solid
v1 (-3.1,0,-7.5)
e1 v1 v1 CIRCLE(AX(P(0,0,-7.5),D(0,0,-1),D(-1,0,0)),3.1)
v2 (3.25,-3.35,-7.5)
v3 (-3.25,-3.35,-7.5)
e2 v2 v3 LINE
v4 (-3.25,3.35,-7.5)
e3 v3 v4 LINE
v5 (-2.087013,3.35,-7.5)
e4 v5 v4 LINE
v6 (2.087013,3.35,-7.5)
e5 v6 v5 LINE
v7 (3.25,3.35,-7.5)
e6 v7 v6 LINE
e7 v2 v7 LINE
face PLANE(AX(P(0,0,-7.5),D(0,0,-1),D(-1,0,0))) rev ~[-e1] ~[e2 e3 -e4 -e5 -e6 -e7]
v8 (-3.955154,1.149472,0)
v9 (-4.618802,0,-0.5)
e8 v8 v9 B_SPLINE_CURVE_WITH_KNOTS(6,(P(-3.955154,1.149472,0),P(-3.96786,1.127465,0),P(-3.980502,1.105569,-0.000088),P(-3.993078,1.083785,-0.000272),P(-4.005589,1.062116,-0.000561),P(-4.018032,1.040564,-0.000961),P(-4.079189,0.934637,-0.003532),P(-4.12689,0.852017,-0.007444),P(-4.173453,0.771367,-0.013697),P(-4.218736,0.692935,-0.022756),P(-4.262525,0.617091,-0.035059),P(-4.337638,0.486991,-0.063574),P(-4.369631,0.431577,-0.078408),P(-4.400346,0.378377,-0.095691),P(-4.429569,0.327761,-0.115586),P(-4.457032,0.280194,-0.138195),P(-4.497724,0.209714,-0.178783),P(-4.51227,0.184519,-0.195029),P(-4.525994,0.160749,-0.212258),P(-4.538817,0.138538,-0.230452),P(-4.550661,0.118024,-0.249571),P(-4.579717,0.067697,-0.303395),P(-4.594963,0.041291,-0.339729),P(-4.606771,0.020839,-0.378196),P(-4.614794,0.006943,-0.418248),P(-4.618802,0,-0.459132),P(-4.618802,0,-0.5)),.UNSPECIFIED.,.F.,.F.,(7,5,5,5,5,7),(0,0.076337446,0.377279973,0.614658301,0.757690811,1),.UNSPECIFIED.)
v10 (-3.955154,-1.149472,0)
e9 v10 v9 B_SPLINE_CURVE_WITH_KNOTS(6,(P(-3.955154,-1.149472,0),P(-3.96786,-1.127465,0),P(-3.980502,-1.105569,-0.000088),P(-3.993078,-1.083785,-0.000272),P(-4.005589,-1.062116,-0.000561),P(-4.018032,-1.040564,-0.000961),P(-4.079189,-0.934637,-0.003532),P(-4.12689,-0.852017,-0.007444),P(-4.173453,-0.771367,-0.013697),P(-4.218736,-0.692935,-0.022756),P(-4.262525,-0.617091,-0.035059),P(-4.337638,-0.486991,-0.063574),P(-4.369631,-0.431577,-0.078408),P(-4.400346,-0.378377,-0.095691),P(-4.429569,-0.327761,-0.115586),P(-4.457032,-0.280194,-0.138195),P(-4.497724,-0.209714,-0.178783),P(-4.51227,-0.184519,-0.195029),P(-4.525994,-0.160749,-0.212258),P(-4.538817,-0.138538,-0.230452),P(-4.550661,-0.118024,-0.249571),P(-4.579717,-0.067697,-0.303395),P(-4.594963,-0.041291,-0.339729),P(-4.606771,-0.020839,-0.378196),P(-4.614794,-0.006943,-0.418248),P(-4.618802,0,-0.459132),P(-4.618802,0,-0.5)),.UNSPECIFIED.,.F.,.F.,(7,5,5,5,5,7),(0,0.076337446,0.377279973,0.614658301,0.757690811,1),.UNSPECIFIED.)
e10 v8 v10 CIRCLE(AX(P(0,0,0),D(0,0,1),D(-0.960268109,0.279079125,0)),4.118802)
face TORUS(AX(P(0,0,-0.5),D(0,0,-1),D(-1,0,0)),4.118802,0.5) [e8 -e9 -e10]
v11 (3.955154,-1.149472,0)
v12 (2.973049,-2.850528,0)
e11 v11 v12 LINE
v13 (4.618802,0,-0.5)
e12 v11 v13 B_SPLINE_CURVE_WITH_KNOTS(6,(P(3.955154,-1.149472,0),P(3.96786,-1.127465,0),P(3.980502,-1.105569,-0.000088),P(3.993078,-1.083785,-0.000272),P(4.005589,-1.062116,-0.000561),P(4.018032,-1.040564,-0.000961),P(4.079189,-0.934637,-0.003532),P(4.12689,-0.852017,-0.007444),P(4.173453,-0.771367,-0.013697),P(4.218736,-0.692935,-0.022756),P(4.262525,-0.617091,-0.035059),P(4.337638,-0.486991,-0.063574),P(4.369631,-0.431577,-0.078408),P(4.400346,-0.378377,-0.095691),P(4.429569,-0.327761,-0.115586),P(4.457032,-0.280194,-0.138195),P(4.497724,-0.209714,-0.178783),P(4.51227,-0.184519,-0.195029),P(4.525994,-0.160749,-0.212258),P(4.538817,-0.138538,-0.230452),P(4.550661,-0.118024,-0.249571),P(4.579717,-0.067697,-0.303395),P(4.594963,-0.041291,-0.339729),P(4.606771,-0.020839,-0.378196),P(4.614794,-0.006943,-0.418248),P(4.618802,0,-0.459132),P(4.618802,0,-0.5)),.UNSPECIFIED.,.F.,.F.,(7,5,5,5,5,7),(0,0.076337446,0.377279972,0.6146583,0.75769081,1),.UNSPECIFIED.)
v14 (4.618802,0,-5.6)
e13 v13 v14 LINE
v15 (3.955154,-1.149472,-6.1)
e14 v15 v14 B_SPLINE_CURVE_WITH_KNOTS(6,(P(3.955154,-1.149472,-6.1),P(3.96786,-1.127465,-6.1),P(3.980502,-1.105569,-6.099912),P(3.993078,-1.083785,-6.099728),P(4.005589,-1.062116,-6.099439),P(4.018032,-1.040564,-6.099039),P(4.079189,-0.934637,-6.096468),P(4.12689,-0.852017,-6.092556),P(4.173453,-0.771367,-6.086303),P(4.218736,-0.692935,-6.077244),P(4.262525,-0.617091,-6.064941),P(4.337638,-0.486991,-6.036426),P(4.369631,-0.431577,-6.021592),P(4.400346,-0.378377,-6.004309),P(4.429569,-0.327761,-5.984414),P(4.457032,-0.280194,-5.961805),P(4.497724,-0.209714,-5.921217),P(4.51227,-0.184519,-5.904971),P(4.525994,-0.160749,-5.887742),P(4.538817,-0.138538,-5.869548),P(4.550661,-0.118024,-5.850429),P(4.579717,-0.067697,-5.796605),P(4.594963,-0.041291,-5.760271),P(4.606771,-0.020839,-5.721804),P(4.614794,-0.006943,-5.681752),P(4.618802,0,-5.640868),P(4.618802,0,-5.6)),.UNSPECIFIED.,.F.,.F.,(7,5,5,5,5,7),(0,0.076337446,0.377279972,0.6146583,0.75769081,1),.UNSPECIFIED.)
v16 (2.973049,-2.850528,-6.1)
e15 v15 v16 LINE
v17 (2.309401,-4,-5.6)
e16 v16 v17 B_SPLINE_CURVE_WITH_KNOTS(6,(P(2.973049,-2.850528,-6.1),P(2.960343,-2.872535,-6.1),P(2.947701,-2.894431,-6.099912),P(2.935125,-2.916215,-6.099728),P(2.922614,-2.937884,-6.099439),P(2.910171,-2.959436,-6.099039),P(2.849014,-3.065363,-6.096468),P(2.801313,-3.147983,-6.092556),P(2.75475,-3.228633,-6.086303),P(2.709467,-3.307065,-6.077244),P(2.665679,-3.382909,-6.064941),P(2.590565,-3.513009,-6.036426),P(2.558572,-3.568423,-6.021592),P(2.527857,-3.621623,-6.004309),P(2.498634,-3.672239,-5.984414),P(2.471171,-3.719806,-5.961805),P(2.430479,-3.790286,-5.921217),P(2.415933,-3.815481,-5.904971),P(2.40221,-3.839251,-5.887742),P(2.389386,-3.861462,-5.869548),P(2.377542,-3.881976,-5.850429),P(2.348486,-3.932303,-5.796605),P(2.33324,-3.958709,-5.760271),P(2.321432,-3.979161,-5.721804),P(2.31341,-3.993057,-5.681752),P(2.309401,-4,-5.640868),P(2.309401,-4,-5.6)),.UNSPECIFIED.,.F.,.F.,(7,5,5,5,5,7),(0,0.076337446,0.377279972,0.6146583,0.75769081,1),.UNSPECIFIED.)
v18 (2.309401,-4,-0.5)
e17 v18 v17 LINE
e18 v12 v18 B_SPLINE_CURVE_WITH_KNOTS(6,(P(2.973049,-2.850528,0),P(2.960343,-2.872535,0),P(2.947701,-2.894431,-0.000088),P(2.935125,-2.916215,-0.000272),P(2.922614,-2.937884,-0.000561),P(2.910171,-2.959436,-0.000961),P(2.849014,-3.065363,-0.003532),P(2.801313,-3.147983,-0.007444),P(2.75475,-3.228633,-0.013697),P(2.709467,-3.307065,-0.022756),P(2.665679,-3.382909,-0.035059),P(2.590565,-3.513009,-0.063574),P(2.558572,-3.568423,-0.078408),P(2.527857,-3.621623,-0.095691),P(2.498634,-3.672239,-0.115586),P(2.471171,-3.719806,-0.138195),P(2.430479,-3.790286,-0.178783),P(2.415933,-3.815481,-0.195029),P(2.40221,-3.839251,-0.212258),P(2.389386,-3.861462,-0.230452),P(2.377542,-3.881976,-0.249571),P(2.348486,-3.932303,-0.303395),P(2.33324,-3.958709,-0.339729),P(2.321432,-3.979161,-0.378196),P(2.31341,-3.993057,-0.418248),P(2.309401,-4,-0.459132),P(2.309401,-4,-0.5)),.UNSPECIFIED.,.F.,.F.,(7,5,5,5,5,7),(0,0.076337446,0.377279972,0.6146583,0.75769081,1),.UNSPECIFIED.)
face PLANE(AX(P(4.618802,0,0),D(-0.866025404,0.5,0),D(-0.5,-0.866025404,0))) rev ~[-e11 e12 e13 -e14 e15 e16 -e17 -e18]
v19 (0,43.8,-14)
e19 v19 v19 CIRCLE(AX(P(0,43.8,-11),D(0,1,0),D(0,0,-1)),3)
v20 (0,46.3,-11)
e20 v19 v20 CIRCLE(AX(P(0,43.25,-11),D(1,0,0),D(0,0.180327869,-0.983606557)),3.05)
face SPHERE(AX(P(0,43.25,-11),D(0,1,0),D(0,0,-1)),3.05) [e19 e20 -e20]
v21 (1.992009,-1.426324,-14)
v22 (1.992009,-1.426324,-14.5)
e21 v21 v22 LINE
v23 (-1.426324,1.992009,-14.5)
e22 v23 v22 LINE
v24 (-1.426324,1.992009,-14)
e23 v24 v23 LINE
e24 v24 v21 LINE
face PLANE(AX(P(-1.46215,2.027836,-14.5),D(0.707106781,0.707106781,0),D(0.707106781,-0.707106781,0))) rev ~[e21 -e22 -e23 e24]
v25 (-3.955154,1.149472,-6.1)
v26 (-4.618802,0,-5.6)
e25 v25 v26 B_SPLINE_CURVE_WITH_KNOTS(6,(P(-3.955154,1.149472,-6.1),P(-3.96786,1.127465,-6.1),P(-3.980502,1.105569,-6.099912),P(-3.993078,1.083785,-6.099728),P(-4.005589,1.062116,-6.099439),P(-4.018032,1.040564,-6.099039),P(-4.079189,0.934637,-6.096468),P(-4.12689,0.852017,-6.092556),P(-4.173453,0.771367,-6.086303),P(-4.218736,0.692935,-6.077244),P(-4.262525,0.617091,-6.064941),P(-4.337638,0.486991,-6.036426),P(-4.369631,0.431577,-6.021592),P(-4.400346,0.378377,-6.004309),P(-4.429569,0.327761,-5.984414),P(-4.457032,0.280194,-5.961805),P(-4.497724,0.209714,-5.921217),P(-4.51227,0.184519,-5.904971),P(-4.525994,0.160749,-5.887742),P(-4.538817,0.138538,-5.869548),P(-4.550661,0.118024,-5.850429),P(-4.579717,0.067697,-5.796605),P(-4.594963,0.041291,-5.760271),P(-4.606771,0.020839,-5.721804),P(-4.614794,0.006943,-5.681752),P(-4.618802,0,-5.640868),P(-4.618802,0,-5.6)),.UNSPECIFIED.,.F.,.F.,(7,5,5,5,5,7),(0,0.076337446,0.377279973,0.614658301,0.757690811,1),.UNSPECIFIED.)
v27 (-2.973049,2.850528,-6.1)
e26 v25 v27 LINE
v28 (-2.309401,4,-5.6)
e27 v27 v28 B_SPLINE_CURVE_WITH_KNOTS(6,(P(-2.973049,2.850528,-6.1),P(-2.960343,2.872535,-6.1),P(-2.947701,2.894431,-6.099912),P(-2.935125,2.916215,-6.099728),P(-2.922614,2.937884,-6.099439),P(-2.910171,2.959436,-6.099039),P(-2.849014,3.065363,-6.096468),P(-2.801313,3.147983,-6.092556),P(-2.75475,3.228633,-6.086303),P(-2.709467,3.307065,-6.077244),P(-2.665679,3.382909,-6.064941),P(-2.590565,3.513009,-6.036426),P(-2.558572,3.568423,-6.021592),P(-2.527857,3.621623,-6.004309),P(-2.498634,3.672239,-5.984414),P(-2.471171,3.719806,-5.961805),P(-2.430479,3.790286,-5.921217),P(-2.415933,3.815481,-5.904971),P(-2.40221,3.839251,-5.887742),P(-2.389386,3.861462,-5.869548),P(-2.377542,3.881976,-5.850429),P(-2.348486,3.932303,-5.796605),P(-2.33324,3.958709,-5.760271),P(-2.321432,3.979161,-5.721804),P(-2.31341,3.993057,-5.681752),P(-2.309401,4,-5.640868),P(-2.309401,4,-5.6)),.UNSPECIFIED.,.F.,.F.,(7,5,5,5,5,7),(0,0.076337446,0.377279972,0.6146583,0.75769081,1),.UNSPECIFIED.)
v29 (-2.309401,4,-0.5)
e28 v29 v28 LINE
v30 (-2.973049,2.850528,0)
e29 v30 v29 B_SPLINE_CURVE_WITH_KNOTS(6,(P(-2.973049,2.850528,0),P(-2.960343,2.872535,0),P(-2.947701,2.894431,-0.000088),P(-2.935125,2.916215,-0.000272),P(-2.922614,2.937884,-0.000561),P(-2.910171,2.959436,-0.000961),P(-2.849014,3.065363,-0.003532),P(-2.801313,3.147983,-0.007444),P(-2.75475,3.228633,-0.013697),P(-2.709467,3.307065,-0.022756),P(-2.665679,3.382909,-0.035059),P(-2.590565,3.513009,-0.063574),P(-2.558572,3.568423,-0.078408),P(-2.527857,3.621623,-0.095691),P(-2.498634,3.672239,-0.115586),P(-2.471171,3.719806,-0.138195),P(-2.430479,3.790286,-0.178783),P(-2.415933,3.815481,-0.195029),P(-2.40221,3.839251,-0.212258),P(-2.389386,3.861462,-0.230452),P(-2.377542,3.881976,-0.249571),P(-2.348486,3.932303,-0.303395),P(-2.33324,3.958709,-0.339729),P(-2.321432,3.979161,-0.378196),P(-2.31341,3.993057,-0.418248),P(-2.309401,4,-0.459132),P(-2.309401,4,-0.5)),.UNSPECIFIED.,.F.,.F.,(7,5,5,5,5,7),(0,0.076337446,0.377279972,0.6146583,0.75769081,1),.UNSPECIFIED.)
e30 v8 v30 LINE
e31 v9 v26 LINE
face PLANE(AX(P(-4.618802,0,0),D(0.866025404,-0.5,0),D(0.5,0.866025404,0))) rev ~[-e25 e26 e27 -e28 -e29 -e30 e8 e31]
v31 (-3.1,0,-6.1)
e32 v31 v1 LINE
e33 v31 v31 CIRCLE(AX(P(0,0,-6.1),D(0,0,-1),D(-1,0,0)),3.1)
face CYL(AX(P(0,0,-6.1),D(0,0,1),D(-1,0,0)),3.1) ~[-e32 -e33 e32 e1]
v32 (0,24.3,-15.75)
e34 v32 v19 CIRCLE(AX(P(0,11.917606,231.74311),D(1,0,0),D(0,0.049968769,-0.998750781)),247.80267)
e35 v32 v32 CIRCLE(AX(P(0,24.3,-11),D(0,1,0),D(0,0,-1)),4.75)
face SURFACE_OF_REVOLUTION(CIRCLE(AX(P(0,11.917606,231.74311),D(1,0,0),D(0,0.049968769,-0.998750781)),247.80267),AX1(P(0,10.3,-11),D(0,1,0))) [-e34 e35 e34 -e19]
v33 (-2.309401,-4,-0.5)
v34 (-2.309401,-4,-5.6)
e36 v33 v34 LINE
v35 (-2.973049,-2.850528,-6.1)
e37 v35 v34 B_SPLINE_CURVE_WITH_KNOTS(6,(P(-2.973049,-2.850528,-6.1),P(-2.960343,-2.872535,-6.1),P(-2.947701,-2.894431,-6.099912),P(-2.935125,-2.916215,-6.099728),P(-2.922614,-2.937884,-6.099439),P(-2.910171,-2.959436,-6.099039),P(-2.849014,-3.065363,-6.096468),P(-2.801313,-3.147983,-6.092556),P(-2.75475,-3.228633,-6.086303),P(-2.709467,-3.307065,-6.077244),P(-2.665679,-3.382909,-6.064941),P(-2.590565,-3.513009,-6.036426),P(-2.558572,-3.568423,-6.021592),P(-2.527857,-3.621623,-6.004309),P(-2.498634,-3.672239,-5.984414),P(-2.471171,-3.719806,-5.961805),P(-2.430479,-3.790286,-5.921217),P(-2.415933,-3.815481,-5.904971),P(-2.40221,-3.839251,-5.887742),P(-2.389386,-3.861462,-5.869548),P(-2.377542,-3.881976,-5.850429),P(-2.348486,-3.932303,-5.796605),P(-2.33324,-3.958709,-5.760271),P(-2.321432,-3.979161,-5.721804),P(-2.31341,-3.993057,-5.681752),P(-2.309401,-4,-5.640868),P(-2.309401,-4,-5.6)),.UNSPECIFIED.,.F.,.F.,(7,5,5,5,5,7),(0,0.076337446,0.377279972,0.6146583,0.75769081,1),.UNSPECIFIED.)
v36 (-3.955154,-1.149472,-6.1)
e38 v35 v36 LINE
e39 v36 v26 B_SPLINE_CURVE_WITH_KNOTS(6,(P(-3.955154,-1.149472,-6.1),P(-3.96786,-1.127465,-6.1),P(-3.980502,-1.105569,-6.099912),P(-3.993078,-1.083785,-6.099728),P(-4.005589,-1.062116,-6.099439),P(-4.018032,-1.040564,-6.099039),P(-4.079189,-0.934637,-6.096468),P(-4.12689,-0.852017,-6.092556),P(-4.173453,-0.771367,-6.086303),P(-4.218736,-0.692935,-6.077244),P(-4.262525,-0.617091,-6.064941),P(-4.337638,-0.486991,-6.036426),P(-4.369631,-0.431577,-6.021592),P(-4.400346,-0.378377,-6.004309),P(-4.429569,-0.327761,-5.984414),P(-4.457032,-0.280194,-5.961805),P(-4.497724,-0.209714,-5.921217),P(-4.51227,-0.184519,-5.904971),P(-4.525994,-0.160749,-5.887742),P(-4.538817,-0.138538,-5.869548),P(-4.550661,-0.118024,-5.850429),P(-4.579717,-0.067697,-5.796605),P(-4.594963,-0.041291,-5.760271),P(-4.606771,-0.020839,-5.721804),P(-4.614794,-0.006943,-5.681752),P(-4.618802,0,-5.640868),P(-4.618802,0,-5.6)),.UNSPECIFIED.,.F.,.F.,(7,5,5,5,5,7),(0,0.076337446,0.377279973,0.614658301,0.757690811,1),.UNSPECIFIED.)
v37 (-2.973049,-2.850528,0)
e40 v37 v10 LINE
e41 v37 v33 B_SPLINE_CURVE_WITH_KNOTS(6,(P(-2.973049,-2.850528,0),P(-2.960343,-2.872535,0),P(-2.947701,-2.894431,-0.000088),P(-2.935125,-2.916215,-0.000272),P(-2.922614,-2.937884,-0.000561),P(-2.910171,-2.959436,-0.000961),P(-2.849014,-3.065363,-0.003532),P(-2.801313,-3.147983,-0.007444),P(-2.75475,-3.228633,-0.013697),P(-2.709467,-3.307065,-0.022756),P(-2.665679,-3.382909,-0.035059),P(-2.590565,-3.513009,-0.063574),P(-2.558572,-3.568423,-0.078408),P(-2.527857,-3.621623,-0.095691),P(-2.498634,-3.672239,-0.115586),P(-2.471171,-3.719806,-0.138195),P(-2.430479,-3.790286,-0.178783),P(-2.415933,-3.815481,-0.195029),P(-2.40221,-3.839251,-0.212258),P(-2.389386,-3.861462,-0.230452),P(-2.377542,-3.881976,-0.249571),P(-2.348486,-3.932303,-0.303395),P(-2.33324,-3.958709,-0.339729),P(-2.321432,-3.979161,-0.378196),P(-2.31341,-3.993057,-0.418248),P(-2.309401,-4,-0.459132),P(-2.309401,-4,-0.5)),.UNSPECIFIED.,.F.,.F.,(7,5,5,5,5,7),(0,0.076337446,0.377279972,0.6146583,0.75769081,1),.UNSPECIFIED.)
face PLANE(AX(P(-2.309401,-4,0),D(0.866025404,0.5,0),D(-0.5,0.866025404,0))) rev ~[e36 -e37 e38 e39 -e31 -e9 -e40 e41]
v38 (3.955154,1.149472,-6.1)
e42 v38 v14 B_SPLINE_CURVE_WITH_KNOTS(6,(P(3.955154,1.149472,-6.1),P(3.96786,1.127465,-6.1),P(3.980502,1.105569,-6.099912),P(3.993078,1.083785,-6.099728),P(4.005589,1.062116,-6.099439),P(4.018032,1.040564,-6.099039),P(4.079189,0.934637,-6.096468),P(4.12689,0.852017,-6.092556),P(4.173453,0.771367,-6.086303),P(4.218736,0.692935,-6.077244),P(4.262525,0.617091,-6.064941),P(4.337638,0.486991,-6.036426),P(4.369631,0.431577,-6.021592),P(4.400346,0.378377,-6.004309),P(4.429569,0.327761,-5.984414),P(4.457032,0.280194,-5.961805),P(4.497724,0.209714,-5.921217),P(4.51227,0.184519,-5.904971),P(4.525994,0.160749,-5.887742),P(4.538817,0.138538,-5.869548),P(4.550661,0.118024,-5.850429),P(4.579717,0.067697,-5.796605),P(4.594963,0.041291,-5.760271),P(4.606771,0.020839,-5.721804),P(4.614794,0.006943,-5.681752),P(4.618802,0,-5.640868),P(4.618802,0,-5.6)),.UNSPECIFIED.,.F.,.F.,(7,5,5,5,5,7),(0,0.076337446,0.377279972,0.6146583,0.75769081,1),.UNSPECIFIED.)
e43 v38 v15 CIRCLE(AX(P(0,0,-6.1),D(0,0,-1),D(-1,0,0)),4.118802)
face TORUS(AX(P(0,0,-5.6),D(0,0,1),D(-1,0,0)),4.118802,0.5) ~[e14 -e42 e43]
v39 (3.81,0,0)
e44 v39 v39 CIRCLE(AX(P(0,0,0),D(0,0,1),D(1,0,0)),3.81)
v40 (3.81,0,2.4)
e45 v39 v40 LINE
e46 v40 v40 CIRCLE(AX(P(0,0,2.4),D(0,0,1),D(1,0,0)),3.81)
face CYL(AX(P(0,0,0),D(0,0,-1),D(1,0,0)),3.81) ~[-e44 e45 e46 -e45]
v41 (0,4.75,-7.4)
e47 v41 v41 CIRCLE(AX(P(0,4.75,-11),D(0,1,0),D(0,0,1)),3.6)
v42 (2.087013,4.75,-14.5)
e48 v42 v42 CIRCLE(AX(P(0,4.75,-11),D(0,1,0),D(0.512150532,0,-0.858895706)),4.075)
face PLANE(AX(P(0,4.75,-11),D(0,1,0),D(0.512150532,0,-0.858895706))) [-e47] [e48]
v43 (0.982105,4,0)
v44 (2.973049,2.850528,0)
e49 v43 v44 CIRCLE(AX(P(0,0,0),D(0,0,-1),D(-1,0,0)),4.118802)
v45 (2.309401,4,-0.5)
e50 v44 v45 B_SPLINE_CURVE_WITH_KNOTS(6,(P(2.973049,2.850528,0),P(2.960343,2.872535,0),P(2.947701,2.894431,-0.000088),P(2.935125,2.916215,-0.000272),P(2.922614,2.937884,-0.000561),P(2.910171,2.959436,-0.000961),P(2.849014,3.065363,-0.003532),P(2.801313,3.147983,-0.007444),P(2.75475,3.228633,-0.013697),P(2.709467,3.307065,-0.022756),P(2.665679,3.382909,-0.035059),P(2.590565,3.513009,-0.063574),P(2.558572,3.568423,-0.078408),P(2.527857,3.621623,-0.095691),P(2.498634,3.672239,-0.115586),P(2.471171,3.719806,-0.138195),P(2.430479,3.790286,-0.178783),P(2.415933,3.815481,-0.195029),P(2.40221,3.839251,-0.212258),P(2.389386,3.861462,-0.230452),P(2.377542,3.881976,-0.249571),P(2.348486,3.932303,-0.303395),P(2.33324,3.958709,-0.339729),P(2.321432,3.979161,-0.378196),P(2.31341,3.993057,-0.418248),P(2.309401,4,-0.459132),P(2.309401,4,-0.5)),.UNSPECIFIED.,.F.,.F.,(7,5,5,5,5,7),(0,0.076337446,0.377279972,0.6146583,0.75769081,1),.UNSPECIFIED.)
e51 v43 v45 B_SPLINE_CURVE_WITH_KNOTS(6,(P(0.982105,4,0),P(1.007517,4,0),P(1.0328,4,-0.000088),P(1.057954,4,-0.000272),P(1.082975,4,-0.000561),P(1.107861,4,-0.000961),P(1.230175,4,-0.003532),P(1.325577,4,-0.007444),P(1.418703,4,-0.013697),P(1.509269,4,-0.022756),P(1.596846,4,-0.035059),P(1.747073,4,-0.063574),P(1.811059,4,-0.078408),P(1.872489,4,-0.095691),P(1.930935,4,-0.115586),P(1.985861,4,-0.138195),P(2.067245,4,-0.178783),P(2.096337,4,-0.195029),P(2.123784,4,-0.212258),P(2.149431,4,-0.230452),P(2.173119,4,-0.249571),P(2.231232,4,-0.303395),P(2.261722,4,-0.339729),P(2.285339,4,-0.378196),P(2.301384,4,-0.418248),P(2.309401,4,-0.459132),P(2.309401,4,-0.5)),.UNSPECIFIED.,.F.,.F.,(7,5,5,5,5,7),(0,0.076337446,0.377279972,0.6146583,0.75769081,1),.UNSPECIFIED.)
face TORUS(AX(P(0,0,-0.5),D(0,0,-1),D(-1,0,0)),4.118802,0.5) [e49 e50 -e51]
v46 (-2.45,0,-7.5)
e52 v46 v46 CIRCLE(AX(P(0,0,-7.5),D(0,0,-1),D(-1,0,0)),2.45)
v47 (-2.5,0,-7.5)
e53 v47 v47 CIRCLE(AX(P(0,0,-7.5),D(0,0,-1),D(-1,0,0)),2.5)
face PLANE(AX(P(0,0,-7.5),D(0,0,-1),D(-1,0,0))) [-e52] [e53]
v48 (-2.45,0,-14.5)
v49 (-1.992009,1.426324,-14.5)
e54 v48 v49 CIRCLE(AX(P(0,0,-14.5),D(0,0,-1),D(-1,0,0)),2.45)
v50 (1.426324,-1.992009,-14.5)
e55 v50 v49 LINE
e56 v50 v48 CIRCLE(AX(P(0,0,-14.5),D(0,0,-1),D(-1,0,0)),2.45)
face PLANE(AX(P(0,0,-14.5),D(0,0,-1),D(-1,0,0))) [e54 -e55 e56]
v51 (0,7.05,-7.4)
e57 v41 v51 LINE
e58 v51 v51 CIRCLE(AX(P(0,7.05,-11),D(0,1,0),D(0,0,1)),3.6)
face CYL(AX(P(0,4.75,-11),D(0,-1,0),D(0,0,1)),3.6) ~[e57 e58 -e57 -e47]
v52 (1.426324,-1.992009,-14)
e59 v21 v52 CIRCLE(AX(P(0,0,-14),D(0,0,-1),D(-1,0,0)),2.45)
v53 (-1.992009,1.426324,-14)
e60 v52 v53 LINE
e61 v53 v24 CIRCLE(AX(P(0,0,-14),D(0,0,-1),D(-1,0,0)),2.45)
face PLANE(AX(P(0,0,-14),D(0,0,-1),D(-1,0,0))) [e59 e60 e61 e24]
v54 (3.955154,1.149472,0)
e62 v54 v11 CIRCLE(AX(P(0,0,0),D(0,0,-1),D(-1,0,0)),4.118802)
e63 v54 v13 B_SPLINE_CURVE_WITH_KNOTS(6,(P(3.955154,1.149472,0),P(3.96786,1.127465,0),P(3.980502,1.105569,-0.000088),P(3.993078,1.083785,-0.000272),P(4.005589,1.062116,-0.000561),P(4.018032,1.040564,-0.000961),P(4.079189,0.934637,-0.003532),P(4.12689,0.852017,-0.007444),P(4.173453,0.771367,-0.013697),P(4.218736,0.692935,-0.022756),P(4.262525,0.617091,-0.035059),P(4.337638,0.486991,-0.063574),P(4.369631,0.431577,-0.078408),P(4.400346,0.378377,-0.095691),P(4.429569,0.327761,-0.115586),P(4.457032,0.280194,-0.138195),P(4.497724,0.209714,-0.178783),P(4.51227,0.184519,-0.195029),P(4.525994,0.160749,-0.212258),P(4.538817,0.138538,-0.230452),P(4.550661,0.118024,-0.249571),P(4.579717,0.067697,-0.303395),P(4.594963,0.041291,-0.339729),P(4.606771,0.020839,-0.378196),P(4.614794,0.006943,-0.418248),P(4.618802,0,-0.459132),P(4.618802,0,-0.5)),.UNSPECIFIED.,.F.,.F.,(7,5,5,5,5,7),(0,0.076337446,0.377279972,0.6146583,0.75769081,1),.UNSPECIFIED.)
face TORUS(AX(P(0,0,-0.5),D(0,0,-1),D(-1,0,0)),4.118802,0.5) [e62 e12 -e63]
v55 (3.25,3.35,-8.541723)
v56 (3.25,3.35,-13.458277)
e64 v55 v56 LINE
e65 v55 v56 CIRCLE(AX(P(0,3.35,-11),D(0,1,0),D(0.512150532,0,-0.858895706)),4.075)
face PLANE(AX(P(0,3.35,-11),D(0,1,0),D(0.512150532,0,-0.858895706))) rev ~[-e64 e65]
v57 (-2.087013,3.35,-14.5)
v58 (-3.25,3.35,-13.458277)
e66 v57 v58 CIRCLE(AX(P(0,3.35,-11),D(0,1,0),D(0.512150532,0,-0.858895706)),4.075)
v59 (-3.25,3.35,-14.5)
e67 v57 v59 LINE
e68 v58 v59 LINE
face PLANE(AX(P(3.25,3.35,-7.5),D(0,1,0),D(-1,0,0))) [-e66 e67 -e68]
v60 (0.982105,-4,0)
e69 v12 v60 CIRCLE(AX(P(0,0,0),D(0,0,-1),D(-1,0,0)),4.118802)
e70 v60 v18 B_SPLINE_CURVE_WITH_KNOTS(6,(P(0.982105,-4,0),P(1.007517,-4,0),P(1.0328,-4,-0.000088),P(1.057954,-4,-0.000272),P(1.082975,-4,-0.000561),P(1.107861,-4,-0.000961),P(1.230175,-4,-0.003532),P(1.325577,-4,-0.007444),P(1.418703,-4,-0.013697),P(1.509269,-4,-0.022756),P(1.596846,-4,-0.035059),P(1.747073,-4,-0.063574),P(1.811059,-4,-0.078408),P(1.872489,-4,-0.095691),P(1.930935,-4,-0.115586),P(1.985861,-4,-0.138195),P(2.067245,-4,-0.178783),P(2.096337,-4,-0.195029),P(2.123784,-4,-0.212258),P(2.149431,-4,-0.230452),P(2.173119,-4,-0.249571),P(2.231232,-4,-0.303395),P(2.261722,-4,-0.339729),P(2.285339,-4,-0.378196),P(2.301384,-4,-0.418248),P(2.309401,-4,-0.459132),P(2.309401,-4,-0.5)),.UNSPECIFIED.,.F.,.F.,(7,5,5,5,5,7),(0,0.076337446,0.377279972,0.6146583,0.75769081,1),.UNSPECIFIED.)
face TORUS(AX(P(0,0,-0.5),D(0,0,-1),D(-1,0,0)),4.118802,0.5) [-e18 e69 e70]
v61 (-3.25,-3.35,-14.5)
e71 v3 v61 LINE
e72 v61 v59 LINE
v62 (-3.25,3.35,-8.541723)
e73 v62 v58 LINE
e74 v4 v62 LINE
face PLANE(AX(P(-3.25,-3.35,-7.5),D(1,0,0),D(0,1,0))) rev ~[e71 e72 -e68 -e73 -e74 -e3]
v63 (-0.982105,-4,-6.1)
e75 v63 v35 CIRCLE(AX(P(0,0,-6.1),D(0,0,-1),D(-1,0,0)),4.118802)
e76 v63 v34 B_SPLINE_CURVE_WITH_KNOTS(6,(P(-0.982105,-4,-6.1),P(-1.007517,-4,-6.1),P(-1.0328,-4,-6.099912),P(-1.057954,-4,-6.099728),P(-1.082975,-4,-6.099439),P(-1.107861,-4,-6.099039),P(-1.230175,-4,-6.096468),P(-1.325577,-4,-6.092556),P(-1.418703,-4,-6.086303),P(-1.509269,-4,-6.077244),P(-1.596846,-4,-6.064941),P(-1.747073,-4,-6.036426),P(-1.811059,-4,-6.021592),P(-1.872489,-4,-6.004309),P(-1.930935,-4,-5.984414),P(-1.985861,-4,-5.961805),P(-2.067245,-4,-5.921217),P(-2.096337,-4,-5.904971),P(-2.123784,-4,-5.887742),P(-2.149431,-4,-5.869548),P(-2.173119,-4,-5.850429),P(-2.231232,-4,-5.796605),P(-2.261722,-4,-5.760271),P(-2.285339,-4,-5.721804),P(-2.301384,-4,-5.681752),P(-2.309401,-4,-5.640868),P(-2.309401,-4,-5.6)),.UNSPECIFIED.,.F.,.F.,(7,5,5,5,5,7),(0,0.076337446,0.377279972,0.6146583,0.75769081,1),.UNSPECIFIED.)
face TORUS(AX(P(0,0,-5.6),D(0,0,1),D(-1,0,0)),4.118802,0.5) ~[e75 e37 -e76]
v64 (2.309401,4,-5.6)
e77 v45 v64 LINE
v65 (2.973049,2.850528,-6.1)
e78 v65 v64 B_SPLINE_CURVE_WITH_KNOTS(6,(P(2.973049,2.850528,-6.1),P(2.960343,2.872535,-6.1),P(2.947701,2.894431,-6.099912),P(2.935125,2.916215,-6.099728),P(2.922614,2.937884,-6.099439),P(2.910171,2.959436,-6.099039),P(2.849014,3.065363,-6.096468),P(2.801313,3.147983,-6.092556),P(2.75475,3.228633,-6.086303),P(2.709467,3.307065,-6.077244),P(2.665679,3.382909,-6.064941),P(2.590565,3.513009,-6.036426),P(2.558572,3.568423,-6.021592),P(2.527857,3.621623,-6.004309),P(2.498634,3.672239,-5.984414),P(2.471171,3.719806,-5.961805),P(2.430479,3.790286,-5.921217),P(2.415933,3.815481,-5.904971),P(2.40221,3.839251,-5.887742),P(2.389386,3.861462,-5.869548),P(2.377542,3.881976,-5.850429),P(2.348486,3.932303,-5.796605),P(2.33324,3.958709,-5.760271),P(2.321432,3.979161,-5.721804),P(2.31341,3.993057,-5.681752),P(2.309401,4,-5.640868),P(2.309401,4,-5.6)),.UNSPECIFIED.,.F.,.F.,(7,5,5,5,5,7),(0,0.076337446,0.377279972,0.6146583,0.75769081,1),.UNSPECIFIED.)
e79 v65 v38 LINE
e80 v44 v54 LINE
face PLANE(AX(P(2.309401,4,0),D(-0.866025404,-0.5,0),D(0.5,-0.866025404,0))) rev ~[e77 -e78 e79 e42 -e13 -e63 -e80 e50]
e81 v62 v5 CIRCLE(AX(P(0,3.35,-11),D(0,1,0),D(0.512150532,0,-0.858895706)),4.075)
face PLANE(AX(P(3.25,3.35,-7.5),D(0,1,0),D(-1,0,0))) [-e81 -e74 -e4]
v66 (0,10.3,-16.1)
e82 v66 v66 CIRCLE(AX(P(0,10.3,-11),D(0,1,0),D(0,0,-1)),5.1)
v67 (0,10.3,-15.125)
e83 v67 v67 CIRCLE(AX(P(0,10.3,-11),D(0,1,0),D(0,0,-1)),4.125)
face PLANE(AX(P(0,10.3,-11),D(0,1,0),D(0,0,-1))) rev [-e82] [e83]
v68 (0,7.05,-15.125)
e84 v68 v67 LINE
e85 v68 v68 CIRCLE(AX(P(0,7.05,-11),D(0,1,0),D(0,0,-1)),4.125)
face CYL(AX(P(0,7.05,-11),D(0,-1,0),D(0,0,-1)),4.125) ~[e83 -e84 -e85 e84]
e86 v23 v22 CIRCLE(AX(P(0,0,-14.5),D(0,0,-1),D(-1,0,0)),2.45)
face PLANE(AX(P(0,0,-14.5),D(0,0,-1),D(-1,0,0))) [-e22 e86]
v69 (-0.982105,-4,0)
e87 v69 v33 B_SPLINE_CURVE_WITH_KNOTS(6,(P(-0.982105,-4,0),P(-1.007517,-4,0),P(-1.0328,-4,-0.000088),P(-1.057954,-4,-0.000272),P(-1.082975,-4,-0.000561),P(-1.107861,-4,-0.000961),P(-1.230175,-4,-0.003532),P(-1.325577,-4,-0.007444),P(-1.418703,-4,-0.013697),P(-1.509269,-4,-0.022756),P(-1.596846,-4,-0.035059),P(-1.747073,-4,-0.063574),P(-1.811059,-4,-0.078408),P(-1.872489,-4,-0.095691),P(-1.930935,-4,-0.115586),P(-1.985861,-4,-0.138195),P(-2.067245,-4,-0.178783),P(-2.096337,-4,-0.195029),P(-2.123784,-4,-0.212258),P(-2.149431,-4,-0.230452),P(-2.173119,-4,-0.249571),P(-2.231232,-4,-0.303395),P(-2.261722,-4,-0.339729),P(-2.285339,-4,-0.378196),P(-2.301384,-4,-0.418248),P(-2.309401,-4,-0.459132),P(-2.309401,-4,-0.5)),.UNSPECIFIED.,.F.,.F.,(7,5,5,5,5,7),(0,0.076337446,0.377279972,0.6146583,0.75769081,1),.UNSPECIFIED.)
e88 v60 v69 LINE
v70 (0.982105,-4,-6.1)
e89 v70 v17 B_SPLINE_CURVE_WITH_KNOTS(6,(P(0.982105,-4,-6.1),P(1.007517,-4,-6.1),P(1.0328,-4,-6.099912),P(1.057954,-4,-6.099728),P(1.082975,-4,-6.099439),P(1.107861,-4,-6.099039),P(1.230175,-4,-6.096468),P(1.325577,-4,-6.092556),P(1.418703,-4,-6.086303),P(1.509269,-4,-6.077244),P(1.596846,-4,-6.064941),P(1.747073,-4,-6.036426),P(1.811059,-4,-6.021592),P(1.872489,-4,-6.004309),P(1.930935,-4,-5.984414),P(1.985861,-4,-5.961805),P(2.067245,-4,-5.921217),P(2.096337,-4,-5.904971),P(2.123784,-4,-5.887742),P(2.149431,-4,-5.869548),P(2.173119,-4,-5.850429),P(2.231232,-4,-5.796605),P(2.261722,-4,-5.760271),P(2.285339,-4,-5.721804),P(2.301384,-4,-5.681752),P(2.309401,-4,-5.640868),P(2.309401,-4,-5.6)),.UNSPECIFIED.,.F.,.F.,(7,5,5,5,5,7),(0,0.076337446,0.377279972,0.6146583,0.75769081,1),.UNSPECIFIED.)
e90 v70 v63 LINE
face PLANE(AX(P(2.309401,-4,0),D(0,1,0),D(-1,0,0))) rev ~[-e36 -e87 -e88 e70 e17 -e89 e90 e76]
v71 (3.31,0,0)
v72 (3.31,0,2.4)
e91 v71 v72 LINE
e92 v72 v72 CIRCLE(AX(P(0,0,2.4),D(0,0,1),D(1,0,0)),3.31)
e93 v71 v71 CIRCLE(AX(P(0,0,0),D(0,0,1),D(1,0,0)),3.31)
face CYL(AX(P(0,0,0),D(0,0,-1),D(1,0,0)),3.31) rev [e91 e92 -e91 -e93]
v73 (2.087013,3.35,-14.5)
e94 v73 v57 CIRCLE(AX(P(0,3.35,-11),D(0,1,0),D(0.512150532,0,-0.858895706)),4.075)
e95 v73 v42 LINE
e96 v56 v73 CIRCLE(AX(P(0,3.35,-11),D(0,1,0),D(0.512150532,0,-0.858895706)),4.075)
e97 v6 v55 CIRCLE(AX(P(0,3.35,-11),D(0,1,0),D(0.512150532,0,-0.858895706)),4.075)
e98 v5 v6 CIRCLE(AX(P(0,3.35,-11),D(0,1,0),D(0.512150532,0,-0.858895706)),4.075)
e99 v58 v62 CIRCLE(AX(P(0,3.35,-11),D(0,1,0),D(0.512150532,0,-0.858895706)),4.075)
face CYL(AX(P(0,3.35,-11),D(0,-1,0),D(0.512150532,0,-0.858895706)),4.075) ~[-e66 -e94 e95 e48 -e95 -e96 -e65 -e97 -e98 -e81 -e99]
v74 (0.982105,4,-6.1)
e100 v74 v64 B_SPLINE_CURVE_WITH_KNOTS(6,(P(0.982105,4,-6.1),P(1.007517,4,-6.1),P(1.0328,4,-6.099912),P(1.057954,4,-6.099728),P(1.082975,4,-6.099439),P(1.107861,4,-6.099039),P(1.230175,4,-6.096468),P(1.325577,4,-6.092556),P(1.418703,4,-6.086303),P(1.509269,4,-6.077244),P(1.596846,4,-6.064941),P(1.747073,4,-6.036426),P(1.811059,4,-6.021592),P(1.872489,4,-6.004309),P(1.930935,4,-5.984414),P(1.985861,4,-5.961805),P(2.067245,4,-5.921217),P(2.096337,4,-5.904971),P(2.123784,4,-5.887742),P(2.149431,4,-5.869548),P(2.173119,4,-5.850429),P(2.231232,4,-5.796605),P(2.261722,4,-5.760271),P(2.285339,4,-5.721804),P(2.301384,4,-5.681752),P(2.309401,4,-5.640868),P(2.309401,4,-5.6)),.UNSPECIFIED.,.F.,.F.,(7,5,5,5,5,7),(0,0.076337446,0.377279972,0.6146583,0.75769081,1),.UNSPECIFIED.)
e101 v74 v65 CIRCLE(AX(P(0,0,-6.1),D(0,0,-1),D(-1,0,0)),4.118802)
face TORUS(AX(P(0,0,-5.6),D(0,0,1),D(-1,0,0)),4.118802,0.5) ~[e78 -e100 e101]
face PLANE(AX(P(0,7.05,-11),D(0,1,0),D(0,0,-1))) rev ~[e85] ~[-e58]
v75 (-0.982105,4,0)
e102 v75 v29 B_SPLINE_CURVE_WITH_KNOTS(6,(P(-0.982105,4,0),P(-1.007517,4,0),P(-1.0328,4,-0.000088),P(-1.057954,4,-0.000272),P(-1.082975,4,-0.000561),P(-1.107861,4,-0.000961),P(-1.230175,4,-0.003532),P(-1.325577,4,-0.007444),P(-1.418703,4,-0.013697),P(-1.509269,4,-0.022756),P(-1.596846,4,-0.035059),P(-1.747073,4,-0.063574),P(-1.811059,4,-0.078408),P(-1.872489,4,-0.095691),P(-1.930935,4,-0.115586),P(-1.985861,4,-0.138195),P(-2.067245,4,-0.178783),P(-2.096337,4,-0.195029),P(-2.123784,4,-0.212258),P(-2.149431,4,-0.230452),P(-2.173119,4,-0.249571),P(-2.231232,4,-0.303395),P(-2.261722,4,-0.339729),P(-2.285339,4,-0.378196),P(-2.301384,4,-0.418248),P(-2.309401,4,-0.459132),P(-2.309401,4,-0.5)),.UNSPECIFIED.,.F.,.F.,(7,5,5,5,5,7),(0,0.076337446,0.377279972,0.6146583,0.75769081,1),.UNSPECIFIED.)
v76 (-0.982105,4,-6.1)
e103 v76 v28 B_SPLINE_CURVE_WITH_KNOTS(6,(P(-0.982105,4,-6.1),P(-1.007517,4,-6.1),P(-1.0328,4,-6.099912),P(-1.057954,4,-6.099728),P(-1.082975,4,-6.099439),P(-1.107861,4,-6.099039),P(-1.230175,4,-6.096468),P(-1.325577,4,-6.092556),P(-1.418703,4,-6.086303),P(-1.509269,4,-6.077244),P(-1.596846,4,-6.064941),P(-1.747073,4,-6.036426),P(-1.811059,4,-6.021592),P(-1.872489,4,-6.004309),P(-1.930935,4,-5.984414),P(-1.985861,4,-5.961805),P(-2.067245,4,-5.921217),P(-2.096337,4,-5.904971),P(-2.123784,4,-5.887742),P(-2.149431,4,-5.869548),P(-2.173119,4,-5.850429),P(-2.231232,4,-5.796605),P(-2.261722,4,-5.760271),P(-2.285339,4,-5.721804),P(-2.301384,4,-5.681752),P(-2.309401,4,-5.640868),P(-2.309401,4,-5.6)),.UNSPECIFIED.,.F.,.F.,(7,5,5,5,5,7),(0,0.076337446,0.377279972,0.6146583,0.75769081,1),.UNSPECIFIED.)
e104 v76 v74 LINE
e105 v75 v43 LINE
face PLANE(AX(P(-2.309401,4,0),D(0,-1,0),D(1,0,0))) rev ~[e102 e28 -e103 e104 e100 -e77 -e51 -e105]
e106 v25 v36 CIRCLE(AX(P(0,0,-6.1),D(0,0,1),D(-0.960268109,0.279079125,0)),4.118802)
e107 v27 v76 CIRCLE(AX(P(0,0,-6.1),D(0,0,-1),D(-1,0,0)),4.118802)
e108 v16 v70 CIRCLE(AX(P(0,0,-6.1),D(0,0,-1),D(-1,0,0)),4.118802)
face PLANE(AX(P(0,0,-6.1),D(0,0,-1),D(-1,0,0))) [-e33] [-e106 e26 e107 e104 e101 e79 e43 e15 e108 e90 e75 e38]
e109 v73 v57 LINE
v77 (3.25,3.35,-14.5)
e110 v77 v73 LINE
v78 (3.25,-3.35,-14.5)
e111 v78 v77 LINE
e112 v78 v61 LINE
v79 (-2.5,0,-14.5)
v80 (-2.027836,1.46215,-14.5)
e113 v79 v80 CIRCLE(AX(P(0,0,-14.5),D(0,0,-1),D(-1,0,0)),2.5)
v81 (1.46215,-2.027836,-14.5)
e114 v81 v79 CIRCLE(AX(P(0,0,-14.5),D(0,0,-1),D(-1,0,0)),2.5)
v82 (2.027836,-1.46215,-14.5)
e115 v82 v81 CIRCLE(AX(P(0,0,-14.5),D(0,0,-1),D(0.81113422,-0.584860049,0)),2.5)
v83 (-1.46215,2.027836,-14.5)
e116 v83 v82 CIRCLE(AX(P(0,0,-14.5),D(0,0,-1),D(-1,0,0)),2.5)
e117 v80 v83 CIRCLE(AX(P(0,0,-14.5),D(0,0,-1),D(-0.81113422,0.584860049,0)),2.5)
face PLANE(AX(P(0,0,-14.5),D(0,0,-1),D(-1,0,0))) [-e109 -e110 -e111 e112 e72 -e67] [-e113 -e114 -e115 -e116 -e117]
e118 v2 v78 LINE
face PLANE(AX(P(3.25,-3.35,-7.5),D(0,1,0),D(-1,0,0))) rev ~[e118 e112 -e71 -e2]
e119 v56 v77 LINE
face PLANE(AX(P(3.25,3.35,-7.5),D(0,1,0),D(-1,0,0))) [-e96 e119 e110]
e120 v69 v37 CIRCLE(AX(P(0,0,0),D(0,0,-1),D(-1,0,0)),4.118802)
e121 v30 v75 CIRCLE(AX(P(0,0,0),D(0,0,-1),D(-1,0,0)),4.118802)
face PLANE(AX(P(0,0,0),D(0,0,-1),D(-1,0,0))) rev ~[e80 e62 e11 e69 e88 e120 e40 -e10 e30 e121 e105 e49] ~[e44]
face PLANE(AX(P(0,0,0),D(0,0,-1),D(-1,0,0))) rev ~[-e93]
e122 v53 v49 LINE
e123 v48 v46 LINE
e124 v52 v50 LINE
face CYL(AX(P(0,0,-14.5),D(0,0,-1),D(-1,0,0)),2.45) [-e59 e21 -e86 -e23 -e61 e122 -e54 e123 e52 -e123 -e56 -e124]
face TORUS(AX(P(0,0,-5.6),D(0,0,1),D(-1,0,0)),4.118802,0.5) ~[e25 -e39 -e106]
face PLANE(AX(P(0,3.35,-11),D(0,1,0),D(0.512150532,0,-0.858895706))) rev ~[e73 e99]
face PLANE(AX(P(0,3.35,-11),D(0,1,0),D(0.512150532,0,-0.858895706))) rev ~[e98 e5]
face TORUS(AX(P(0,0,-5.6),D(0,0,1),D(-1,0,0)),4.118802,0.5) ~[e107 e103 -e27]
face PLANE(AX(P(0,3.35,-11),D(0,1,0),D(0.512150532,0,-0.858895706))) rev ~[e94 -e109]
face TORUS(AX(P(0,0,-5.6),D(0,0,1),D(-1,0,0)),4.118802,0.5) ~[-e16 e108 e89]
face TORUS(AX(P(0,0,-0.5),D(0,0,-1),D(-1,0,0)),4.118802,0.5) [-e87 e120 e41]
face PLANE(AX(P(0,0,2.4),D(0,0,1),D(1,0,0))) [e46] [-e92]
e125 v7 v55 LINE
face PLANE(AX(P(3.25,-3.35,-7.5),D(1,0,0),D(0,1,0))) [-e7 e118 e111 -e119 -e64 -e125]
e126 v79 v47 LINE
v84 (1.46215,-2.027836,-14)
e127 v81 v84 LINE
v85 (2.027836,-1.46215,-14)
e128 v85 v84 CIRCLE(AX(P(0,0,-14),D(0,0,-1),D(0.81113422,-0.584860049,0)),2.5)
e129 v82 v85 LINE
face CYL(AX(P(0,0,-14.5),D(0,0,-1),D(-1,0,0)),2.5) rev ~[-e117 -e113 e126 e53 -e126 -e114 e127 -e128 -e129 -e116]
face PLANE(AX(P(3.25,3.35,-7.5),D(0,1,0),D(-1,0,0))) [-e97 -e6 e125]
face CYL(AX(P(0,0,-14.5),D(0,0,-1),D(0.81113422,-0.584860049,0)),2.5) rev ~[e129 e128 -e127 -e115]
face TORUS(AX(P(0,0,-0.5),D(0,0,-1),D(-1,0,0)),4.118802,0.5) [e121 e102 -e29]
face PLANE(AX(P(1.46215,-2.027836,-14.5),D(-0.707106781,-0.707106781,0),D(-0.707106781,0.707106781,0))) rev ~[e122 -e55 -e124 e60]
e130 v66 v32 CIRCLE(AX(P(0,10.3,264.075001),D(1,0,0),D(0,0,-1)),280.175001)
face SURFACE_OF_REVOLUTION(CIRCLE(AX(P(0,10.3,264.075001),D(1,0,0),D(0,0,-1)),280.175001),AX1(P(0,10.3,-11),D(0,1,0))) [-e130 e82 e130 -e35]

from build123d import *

# Parameters (mm, degrees)
SKETCH1_R           = 3.81
SKETCH1_R_2         = 3.31
BOSS_EXTRUDE1_DEPTH = 2.4
BOSS_EXTRUDE2_DEPTH = 6.1
SKETCH4_R           = 3.1
BOSS_EXTRUDE3_DEPTH = 1.4
SKETCH5_W           = 6.5
SKETCH5_H           = 6.7
BOSS_EXTRUDE4_DEPTH = 7
SKETCH6_R           = 2.5
SKETCH6_R_2         = 2.45
CUT_EXTRUDE1_DEPTH  = 7
CUT_EXTRUDE2_DEPTH  = 0.5
SKETCH8_R           = 4.075
BOSS_EXTRUDE5_DEPTH = 1.4
SKETCH9_R           = 3.6
BOSS_EXTRUDE6_DEPTH = 2.3
SKETCH10_R          = 4.125
BOSS_EXTRUDE7_DEPTH = 3.25


with BuildPart() as part:
    # Sketch1 → Boss-Extrude1 (new body)
    with BuildSketch(Plane.XY):
        Circle(SKETCH1_R)
        Circle(SKETCH1_R_2, mode=Mode.SUBTRACT)
    extrude(amount=BOSS_EXTRUDE1_DEPTH)

    # Sketch2 → Boss-Extrude2 (add)
    with BuildSketch(Plane(origin=(0, 0, 0), x_dir=(-1, 0, 0), z_dir=(0, 0, -1))):
        Polygon((2.309401077, -4), (4.618802154, 0), (2.309401077, 4), (-2.309401077, 4), (-4.618802154, 0), (-2.309401077, -4), align=None)
    extrude(amount=BOSS_EXTRUDE2_DEPTH)

    # Sketch3 → Cut-Revolve1 (revolve, cut)
    with BuildSketch(Plane(origin=(0, 0, 0), x_dir=(1, 0, 0), z_dir=(0, 1, 0))):
        with BuildLine():
            Line((-4.618802154, 5.6), (-4.618802154, 6.1))
            Line((-4.618802154, 6.1), (-4.118802154, 6.1))
            ThreePointArc((-4.118802154, 6.1), (-4.472355544, 5.953553391), (-4.618802154, 5.6))
        make_face()
        with BuildLine():
            Line((-4.618802154, 0), (-4.118802154, 0))
            ThreePointArc((-4.118802154, 0), (-4.472355544, 0.146446609), (-4.618802154, 0.5))
            Line((-4.618802154, 0.5), (-4.618802154, 0))
        make_face()
    revolve(axis=Axis((0, 0, 0), (0, 0, -1)), mode=Mode.SUBTRACT)

    # Sketch4 → Boss-Extrude3 (add)
    with BuildSketch(Plane(origin=(0, 0, -6.1), x_dir=(-1, 0, 0), z_dir=(0, 0, -1))):
        Circle(SKETCH4_R)
    extrude(amount=BOSS_EXTRUDE3_DEPTH)

    # Sketch5 → Boss-Extrude4 (add)
    with BuildSketch(Plane(origin=(0, 0, -7.5), x_dir=(-1, 0, 0), z_dir=(0, 0, -1))):
        Rectangle(SKETCH5_W, SKETCH5_H)
    extrude(amount=BOSS_EXTRUDE4_DEPTH)

    # Sketch6 → Cut-Extrude1 (cut)
    with BuildSketch(Plane(origin=(0, 0, -14.5), x_dir=(-1, 0, 0), z_dir=(0, 0, -1))):
        Circle(SKETCH6_R)
        Circle(SKETCH6_R_2, mode=Mode.SUBTRACT)
    extrude(amount=-CUT_EXTRUDE1_DEPTH, mode=Mode.SUBTRACT)

    # Sketch7 → Cut-Extrude2 (cut)
    with BuildSketch(Plane(origin=(0, 0, -14.5), x_dir=(-1, 0, 0), z_dir=(0, 0, -1))):
        with BuildLine():
            Line((1.462150124, 2.027835549), (-2.027835549, -1.462150124))
            ThreePointArc((-2.027835549, -1.462150124), (-1.767766953, -1.767766953), (-1.462150124, -2.027835549))
            Line((-1.462150124, -2.027835549), (2.027835549, 1.462150124))
            ThreePointArc((2.027835549, 1.462150124), (1.767766953, 1.767766953), (1.462150124, 2.027835549))
        make_face()
    extrude(amount=-CUT_EXTRUDE2_DEPTH, mode=Mode.SUBTRACT)

    # Sketch8 → Boss-Extrude5 (add)
    with BuildSketch(Plane(origin=(0, 3.35, 0), x_dir=(1, 0, 0), z_dir=(0, 1, 0))):
        with Locations(Location((0, 11, 0), (0, 0, 59.192817964))):
            Circle(SKETCH8_R)
    extrude(amount=BOSS_EXTRUDE5_DEPTH)

    # Sketch9 → Boss-Extrude6 (add)
    with BuildSketch(Plane(origin=(0, 4.75, 0), x_dir=(1, 0, 0), z_dir=(0, 1, 0))):
        with Locations(Location((0, 11, 0), (0, 0, 270))):
            Circle(SKETCH9_R)
    extrude(amount=BOSS_EXTRUDE6_DEPTH)

    # Sketch10 → Boss-Extrude7 (add)
    with BuildSketch(Plane(origin=(0, 7.05, 0), x_dir=(1, 0, 0), z_dir=(0, 1, 0))):
        with Locations(Location((0, 11, 0), (0, 0, 90))):
            Circle(SKETCH10_R)
    extrude(amount=BOSS_EXTRUDE7_DEPTH)

    # Sketch11 → Revolve1 (revolve)
    with BuildSketch(Plane(origin=(0, 0, 0), x_dir=(0, 0, -1), z_dir=(1, 0, 0)), mode=Mode.PRIVATE) as revolve1_sk:
        with BuildLine():
            Line((11, 10.3), (5.9, 10.3))
            ThreePointArc((5.9, 10.3), (5.987513668, 17.302187158), (6.25, 24.3))
            ThreePointArc((6.25, 24.3), (6.932343055, 34.067289726), (8, 43.8))
            ThreePointArc((8, 43.8), (9.047437581, 45.593074903), (11, 46.3))
            Line((11, 46.3), (11, 10.3))
        make_face()
    revolve(revolve1_sk.sketch.rotate(Axis((0, 10.3, -11), (0, 1, 0)), 180), axis=Axis((0, 10.3, -11), (0, 1, 0)))


solid = part.part
